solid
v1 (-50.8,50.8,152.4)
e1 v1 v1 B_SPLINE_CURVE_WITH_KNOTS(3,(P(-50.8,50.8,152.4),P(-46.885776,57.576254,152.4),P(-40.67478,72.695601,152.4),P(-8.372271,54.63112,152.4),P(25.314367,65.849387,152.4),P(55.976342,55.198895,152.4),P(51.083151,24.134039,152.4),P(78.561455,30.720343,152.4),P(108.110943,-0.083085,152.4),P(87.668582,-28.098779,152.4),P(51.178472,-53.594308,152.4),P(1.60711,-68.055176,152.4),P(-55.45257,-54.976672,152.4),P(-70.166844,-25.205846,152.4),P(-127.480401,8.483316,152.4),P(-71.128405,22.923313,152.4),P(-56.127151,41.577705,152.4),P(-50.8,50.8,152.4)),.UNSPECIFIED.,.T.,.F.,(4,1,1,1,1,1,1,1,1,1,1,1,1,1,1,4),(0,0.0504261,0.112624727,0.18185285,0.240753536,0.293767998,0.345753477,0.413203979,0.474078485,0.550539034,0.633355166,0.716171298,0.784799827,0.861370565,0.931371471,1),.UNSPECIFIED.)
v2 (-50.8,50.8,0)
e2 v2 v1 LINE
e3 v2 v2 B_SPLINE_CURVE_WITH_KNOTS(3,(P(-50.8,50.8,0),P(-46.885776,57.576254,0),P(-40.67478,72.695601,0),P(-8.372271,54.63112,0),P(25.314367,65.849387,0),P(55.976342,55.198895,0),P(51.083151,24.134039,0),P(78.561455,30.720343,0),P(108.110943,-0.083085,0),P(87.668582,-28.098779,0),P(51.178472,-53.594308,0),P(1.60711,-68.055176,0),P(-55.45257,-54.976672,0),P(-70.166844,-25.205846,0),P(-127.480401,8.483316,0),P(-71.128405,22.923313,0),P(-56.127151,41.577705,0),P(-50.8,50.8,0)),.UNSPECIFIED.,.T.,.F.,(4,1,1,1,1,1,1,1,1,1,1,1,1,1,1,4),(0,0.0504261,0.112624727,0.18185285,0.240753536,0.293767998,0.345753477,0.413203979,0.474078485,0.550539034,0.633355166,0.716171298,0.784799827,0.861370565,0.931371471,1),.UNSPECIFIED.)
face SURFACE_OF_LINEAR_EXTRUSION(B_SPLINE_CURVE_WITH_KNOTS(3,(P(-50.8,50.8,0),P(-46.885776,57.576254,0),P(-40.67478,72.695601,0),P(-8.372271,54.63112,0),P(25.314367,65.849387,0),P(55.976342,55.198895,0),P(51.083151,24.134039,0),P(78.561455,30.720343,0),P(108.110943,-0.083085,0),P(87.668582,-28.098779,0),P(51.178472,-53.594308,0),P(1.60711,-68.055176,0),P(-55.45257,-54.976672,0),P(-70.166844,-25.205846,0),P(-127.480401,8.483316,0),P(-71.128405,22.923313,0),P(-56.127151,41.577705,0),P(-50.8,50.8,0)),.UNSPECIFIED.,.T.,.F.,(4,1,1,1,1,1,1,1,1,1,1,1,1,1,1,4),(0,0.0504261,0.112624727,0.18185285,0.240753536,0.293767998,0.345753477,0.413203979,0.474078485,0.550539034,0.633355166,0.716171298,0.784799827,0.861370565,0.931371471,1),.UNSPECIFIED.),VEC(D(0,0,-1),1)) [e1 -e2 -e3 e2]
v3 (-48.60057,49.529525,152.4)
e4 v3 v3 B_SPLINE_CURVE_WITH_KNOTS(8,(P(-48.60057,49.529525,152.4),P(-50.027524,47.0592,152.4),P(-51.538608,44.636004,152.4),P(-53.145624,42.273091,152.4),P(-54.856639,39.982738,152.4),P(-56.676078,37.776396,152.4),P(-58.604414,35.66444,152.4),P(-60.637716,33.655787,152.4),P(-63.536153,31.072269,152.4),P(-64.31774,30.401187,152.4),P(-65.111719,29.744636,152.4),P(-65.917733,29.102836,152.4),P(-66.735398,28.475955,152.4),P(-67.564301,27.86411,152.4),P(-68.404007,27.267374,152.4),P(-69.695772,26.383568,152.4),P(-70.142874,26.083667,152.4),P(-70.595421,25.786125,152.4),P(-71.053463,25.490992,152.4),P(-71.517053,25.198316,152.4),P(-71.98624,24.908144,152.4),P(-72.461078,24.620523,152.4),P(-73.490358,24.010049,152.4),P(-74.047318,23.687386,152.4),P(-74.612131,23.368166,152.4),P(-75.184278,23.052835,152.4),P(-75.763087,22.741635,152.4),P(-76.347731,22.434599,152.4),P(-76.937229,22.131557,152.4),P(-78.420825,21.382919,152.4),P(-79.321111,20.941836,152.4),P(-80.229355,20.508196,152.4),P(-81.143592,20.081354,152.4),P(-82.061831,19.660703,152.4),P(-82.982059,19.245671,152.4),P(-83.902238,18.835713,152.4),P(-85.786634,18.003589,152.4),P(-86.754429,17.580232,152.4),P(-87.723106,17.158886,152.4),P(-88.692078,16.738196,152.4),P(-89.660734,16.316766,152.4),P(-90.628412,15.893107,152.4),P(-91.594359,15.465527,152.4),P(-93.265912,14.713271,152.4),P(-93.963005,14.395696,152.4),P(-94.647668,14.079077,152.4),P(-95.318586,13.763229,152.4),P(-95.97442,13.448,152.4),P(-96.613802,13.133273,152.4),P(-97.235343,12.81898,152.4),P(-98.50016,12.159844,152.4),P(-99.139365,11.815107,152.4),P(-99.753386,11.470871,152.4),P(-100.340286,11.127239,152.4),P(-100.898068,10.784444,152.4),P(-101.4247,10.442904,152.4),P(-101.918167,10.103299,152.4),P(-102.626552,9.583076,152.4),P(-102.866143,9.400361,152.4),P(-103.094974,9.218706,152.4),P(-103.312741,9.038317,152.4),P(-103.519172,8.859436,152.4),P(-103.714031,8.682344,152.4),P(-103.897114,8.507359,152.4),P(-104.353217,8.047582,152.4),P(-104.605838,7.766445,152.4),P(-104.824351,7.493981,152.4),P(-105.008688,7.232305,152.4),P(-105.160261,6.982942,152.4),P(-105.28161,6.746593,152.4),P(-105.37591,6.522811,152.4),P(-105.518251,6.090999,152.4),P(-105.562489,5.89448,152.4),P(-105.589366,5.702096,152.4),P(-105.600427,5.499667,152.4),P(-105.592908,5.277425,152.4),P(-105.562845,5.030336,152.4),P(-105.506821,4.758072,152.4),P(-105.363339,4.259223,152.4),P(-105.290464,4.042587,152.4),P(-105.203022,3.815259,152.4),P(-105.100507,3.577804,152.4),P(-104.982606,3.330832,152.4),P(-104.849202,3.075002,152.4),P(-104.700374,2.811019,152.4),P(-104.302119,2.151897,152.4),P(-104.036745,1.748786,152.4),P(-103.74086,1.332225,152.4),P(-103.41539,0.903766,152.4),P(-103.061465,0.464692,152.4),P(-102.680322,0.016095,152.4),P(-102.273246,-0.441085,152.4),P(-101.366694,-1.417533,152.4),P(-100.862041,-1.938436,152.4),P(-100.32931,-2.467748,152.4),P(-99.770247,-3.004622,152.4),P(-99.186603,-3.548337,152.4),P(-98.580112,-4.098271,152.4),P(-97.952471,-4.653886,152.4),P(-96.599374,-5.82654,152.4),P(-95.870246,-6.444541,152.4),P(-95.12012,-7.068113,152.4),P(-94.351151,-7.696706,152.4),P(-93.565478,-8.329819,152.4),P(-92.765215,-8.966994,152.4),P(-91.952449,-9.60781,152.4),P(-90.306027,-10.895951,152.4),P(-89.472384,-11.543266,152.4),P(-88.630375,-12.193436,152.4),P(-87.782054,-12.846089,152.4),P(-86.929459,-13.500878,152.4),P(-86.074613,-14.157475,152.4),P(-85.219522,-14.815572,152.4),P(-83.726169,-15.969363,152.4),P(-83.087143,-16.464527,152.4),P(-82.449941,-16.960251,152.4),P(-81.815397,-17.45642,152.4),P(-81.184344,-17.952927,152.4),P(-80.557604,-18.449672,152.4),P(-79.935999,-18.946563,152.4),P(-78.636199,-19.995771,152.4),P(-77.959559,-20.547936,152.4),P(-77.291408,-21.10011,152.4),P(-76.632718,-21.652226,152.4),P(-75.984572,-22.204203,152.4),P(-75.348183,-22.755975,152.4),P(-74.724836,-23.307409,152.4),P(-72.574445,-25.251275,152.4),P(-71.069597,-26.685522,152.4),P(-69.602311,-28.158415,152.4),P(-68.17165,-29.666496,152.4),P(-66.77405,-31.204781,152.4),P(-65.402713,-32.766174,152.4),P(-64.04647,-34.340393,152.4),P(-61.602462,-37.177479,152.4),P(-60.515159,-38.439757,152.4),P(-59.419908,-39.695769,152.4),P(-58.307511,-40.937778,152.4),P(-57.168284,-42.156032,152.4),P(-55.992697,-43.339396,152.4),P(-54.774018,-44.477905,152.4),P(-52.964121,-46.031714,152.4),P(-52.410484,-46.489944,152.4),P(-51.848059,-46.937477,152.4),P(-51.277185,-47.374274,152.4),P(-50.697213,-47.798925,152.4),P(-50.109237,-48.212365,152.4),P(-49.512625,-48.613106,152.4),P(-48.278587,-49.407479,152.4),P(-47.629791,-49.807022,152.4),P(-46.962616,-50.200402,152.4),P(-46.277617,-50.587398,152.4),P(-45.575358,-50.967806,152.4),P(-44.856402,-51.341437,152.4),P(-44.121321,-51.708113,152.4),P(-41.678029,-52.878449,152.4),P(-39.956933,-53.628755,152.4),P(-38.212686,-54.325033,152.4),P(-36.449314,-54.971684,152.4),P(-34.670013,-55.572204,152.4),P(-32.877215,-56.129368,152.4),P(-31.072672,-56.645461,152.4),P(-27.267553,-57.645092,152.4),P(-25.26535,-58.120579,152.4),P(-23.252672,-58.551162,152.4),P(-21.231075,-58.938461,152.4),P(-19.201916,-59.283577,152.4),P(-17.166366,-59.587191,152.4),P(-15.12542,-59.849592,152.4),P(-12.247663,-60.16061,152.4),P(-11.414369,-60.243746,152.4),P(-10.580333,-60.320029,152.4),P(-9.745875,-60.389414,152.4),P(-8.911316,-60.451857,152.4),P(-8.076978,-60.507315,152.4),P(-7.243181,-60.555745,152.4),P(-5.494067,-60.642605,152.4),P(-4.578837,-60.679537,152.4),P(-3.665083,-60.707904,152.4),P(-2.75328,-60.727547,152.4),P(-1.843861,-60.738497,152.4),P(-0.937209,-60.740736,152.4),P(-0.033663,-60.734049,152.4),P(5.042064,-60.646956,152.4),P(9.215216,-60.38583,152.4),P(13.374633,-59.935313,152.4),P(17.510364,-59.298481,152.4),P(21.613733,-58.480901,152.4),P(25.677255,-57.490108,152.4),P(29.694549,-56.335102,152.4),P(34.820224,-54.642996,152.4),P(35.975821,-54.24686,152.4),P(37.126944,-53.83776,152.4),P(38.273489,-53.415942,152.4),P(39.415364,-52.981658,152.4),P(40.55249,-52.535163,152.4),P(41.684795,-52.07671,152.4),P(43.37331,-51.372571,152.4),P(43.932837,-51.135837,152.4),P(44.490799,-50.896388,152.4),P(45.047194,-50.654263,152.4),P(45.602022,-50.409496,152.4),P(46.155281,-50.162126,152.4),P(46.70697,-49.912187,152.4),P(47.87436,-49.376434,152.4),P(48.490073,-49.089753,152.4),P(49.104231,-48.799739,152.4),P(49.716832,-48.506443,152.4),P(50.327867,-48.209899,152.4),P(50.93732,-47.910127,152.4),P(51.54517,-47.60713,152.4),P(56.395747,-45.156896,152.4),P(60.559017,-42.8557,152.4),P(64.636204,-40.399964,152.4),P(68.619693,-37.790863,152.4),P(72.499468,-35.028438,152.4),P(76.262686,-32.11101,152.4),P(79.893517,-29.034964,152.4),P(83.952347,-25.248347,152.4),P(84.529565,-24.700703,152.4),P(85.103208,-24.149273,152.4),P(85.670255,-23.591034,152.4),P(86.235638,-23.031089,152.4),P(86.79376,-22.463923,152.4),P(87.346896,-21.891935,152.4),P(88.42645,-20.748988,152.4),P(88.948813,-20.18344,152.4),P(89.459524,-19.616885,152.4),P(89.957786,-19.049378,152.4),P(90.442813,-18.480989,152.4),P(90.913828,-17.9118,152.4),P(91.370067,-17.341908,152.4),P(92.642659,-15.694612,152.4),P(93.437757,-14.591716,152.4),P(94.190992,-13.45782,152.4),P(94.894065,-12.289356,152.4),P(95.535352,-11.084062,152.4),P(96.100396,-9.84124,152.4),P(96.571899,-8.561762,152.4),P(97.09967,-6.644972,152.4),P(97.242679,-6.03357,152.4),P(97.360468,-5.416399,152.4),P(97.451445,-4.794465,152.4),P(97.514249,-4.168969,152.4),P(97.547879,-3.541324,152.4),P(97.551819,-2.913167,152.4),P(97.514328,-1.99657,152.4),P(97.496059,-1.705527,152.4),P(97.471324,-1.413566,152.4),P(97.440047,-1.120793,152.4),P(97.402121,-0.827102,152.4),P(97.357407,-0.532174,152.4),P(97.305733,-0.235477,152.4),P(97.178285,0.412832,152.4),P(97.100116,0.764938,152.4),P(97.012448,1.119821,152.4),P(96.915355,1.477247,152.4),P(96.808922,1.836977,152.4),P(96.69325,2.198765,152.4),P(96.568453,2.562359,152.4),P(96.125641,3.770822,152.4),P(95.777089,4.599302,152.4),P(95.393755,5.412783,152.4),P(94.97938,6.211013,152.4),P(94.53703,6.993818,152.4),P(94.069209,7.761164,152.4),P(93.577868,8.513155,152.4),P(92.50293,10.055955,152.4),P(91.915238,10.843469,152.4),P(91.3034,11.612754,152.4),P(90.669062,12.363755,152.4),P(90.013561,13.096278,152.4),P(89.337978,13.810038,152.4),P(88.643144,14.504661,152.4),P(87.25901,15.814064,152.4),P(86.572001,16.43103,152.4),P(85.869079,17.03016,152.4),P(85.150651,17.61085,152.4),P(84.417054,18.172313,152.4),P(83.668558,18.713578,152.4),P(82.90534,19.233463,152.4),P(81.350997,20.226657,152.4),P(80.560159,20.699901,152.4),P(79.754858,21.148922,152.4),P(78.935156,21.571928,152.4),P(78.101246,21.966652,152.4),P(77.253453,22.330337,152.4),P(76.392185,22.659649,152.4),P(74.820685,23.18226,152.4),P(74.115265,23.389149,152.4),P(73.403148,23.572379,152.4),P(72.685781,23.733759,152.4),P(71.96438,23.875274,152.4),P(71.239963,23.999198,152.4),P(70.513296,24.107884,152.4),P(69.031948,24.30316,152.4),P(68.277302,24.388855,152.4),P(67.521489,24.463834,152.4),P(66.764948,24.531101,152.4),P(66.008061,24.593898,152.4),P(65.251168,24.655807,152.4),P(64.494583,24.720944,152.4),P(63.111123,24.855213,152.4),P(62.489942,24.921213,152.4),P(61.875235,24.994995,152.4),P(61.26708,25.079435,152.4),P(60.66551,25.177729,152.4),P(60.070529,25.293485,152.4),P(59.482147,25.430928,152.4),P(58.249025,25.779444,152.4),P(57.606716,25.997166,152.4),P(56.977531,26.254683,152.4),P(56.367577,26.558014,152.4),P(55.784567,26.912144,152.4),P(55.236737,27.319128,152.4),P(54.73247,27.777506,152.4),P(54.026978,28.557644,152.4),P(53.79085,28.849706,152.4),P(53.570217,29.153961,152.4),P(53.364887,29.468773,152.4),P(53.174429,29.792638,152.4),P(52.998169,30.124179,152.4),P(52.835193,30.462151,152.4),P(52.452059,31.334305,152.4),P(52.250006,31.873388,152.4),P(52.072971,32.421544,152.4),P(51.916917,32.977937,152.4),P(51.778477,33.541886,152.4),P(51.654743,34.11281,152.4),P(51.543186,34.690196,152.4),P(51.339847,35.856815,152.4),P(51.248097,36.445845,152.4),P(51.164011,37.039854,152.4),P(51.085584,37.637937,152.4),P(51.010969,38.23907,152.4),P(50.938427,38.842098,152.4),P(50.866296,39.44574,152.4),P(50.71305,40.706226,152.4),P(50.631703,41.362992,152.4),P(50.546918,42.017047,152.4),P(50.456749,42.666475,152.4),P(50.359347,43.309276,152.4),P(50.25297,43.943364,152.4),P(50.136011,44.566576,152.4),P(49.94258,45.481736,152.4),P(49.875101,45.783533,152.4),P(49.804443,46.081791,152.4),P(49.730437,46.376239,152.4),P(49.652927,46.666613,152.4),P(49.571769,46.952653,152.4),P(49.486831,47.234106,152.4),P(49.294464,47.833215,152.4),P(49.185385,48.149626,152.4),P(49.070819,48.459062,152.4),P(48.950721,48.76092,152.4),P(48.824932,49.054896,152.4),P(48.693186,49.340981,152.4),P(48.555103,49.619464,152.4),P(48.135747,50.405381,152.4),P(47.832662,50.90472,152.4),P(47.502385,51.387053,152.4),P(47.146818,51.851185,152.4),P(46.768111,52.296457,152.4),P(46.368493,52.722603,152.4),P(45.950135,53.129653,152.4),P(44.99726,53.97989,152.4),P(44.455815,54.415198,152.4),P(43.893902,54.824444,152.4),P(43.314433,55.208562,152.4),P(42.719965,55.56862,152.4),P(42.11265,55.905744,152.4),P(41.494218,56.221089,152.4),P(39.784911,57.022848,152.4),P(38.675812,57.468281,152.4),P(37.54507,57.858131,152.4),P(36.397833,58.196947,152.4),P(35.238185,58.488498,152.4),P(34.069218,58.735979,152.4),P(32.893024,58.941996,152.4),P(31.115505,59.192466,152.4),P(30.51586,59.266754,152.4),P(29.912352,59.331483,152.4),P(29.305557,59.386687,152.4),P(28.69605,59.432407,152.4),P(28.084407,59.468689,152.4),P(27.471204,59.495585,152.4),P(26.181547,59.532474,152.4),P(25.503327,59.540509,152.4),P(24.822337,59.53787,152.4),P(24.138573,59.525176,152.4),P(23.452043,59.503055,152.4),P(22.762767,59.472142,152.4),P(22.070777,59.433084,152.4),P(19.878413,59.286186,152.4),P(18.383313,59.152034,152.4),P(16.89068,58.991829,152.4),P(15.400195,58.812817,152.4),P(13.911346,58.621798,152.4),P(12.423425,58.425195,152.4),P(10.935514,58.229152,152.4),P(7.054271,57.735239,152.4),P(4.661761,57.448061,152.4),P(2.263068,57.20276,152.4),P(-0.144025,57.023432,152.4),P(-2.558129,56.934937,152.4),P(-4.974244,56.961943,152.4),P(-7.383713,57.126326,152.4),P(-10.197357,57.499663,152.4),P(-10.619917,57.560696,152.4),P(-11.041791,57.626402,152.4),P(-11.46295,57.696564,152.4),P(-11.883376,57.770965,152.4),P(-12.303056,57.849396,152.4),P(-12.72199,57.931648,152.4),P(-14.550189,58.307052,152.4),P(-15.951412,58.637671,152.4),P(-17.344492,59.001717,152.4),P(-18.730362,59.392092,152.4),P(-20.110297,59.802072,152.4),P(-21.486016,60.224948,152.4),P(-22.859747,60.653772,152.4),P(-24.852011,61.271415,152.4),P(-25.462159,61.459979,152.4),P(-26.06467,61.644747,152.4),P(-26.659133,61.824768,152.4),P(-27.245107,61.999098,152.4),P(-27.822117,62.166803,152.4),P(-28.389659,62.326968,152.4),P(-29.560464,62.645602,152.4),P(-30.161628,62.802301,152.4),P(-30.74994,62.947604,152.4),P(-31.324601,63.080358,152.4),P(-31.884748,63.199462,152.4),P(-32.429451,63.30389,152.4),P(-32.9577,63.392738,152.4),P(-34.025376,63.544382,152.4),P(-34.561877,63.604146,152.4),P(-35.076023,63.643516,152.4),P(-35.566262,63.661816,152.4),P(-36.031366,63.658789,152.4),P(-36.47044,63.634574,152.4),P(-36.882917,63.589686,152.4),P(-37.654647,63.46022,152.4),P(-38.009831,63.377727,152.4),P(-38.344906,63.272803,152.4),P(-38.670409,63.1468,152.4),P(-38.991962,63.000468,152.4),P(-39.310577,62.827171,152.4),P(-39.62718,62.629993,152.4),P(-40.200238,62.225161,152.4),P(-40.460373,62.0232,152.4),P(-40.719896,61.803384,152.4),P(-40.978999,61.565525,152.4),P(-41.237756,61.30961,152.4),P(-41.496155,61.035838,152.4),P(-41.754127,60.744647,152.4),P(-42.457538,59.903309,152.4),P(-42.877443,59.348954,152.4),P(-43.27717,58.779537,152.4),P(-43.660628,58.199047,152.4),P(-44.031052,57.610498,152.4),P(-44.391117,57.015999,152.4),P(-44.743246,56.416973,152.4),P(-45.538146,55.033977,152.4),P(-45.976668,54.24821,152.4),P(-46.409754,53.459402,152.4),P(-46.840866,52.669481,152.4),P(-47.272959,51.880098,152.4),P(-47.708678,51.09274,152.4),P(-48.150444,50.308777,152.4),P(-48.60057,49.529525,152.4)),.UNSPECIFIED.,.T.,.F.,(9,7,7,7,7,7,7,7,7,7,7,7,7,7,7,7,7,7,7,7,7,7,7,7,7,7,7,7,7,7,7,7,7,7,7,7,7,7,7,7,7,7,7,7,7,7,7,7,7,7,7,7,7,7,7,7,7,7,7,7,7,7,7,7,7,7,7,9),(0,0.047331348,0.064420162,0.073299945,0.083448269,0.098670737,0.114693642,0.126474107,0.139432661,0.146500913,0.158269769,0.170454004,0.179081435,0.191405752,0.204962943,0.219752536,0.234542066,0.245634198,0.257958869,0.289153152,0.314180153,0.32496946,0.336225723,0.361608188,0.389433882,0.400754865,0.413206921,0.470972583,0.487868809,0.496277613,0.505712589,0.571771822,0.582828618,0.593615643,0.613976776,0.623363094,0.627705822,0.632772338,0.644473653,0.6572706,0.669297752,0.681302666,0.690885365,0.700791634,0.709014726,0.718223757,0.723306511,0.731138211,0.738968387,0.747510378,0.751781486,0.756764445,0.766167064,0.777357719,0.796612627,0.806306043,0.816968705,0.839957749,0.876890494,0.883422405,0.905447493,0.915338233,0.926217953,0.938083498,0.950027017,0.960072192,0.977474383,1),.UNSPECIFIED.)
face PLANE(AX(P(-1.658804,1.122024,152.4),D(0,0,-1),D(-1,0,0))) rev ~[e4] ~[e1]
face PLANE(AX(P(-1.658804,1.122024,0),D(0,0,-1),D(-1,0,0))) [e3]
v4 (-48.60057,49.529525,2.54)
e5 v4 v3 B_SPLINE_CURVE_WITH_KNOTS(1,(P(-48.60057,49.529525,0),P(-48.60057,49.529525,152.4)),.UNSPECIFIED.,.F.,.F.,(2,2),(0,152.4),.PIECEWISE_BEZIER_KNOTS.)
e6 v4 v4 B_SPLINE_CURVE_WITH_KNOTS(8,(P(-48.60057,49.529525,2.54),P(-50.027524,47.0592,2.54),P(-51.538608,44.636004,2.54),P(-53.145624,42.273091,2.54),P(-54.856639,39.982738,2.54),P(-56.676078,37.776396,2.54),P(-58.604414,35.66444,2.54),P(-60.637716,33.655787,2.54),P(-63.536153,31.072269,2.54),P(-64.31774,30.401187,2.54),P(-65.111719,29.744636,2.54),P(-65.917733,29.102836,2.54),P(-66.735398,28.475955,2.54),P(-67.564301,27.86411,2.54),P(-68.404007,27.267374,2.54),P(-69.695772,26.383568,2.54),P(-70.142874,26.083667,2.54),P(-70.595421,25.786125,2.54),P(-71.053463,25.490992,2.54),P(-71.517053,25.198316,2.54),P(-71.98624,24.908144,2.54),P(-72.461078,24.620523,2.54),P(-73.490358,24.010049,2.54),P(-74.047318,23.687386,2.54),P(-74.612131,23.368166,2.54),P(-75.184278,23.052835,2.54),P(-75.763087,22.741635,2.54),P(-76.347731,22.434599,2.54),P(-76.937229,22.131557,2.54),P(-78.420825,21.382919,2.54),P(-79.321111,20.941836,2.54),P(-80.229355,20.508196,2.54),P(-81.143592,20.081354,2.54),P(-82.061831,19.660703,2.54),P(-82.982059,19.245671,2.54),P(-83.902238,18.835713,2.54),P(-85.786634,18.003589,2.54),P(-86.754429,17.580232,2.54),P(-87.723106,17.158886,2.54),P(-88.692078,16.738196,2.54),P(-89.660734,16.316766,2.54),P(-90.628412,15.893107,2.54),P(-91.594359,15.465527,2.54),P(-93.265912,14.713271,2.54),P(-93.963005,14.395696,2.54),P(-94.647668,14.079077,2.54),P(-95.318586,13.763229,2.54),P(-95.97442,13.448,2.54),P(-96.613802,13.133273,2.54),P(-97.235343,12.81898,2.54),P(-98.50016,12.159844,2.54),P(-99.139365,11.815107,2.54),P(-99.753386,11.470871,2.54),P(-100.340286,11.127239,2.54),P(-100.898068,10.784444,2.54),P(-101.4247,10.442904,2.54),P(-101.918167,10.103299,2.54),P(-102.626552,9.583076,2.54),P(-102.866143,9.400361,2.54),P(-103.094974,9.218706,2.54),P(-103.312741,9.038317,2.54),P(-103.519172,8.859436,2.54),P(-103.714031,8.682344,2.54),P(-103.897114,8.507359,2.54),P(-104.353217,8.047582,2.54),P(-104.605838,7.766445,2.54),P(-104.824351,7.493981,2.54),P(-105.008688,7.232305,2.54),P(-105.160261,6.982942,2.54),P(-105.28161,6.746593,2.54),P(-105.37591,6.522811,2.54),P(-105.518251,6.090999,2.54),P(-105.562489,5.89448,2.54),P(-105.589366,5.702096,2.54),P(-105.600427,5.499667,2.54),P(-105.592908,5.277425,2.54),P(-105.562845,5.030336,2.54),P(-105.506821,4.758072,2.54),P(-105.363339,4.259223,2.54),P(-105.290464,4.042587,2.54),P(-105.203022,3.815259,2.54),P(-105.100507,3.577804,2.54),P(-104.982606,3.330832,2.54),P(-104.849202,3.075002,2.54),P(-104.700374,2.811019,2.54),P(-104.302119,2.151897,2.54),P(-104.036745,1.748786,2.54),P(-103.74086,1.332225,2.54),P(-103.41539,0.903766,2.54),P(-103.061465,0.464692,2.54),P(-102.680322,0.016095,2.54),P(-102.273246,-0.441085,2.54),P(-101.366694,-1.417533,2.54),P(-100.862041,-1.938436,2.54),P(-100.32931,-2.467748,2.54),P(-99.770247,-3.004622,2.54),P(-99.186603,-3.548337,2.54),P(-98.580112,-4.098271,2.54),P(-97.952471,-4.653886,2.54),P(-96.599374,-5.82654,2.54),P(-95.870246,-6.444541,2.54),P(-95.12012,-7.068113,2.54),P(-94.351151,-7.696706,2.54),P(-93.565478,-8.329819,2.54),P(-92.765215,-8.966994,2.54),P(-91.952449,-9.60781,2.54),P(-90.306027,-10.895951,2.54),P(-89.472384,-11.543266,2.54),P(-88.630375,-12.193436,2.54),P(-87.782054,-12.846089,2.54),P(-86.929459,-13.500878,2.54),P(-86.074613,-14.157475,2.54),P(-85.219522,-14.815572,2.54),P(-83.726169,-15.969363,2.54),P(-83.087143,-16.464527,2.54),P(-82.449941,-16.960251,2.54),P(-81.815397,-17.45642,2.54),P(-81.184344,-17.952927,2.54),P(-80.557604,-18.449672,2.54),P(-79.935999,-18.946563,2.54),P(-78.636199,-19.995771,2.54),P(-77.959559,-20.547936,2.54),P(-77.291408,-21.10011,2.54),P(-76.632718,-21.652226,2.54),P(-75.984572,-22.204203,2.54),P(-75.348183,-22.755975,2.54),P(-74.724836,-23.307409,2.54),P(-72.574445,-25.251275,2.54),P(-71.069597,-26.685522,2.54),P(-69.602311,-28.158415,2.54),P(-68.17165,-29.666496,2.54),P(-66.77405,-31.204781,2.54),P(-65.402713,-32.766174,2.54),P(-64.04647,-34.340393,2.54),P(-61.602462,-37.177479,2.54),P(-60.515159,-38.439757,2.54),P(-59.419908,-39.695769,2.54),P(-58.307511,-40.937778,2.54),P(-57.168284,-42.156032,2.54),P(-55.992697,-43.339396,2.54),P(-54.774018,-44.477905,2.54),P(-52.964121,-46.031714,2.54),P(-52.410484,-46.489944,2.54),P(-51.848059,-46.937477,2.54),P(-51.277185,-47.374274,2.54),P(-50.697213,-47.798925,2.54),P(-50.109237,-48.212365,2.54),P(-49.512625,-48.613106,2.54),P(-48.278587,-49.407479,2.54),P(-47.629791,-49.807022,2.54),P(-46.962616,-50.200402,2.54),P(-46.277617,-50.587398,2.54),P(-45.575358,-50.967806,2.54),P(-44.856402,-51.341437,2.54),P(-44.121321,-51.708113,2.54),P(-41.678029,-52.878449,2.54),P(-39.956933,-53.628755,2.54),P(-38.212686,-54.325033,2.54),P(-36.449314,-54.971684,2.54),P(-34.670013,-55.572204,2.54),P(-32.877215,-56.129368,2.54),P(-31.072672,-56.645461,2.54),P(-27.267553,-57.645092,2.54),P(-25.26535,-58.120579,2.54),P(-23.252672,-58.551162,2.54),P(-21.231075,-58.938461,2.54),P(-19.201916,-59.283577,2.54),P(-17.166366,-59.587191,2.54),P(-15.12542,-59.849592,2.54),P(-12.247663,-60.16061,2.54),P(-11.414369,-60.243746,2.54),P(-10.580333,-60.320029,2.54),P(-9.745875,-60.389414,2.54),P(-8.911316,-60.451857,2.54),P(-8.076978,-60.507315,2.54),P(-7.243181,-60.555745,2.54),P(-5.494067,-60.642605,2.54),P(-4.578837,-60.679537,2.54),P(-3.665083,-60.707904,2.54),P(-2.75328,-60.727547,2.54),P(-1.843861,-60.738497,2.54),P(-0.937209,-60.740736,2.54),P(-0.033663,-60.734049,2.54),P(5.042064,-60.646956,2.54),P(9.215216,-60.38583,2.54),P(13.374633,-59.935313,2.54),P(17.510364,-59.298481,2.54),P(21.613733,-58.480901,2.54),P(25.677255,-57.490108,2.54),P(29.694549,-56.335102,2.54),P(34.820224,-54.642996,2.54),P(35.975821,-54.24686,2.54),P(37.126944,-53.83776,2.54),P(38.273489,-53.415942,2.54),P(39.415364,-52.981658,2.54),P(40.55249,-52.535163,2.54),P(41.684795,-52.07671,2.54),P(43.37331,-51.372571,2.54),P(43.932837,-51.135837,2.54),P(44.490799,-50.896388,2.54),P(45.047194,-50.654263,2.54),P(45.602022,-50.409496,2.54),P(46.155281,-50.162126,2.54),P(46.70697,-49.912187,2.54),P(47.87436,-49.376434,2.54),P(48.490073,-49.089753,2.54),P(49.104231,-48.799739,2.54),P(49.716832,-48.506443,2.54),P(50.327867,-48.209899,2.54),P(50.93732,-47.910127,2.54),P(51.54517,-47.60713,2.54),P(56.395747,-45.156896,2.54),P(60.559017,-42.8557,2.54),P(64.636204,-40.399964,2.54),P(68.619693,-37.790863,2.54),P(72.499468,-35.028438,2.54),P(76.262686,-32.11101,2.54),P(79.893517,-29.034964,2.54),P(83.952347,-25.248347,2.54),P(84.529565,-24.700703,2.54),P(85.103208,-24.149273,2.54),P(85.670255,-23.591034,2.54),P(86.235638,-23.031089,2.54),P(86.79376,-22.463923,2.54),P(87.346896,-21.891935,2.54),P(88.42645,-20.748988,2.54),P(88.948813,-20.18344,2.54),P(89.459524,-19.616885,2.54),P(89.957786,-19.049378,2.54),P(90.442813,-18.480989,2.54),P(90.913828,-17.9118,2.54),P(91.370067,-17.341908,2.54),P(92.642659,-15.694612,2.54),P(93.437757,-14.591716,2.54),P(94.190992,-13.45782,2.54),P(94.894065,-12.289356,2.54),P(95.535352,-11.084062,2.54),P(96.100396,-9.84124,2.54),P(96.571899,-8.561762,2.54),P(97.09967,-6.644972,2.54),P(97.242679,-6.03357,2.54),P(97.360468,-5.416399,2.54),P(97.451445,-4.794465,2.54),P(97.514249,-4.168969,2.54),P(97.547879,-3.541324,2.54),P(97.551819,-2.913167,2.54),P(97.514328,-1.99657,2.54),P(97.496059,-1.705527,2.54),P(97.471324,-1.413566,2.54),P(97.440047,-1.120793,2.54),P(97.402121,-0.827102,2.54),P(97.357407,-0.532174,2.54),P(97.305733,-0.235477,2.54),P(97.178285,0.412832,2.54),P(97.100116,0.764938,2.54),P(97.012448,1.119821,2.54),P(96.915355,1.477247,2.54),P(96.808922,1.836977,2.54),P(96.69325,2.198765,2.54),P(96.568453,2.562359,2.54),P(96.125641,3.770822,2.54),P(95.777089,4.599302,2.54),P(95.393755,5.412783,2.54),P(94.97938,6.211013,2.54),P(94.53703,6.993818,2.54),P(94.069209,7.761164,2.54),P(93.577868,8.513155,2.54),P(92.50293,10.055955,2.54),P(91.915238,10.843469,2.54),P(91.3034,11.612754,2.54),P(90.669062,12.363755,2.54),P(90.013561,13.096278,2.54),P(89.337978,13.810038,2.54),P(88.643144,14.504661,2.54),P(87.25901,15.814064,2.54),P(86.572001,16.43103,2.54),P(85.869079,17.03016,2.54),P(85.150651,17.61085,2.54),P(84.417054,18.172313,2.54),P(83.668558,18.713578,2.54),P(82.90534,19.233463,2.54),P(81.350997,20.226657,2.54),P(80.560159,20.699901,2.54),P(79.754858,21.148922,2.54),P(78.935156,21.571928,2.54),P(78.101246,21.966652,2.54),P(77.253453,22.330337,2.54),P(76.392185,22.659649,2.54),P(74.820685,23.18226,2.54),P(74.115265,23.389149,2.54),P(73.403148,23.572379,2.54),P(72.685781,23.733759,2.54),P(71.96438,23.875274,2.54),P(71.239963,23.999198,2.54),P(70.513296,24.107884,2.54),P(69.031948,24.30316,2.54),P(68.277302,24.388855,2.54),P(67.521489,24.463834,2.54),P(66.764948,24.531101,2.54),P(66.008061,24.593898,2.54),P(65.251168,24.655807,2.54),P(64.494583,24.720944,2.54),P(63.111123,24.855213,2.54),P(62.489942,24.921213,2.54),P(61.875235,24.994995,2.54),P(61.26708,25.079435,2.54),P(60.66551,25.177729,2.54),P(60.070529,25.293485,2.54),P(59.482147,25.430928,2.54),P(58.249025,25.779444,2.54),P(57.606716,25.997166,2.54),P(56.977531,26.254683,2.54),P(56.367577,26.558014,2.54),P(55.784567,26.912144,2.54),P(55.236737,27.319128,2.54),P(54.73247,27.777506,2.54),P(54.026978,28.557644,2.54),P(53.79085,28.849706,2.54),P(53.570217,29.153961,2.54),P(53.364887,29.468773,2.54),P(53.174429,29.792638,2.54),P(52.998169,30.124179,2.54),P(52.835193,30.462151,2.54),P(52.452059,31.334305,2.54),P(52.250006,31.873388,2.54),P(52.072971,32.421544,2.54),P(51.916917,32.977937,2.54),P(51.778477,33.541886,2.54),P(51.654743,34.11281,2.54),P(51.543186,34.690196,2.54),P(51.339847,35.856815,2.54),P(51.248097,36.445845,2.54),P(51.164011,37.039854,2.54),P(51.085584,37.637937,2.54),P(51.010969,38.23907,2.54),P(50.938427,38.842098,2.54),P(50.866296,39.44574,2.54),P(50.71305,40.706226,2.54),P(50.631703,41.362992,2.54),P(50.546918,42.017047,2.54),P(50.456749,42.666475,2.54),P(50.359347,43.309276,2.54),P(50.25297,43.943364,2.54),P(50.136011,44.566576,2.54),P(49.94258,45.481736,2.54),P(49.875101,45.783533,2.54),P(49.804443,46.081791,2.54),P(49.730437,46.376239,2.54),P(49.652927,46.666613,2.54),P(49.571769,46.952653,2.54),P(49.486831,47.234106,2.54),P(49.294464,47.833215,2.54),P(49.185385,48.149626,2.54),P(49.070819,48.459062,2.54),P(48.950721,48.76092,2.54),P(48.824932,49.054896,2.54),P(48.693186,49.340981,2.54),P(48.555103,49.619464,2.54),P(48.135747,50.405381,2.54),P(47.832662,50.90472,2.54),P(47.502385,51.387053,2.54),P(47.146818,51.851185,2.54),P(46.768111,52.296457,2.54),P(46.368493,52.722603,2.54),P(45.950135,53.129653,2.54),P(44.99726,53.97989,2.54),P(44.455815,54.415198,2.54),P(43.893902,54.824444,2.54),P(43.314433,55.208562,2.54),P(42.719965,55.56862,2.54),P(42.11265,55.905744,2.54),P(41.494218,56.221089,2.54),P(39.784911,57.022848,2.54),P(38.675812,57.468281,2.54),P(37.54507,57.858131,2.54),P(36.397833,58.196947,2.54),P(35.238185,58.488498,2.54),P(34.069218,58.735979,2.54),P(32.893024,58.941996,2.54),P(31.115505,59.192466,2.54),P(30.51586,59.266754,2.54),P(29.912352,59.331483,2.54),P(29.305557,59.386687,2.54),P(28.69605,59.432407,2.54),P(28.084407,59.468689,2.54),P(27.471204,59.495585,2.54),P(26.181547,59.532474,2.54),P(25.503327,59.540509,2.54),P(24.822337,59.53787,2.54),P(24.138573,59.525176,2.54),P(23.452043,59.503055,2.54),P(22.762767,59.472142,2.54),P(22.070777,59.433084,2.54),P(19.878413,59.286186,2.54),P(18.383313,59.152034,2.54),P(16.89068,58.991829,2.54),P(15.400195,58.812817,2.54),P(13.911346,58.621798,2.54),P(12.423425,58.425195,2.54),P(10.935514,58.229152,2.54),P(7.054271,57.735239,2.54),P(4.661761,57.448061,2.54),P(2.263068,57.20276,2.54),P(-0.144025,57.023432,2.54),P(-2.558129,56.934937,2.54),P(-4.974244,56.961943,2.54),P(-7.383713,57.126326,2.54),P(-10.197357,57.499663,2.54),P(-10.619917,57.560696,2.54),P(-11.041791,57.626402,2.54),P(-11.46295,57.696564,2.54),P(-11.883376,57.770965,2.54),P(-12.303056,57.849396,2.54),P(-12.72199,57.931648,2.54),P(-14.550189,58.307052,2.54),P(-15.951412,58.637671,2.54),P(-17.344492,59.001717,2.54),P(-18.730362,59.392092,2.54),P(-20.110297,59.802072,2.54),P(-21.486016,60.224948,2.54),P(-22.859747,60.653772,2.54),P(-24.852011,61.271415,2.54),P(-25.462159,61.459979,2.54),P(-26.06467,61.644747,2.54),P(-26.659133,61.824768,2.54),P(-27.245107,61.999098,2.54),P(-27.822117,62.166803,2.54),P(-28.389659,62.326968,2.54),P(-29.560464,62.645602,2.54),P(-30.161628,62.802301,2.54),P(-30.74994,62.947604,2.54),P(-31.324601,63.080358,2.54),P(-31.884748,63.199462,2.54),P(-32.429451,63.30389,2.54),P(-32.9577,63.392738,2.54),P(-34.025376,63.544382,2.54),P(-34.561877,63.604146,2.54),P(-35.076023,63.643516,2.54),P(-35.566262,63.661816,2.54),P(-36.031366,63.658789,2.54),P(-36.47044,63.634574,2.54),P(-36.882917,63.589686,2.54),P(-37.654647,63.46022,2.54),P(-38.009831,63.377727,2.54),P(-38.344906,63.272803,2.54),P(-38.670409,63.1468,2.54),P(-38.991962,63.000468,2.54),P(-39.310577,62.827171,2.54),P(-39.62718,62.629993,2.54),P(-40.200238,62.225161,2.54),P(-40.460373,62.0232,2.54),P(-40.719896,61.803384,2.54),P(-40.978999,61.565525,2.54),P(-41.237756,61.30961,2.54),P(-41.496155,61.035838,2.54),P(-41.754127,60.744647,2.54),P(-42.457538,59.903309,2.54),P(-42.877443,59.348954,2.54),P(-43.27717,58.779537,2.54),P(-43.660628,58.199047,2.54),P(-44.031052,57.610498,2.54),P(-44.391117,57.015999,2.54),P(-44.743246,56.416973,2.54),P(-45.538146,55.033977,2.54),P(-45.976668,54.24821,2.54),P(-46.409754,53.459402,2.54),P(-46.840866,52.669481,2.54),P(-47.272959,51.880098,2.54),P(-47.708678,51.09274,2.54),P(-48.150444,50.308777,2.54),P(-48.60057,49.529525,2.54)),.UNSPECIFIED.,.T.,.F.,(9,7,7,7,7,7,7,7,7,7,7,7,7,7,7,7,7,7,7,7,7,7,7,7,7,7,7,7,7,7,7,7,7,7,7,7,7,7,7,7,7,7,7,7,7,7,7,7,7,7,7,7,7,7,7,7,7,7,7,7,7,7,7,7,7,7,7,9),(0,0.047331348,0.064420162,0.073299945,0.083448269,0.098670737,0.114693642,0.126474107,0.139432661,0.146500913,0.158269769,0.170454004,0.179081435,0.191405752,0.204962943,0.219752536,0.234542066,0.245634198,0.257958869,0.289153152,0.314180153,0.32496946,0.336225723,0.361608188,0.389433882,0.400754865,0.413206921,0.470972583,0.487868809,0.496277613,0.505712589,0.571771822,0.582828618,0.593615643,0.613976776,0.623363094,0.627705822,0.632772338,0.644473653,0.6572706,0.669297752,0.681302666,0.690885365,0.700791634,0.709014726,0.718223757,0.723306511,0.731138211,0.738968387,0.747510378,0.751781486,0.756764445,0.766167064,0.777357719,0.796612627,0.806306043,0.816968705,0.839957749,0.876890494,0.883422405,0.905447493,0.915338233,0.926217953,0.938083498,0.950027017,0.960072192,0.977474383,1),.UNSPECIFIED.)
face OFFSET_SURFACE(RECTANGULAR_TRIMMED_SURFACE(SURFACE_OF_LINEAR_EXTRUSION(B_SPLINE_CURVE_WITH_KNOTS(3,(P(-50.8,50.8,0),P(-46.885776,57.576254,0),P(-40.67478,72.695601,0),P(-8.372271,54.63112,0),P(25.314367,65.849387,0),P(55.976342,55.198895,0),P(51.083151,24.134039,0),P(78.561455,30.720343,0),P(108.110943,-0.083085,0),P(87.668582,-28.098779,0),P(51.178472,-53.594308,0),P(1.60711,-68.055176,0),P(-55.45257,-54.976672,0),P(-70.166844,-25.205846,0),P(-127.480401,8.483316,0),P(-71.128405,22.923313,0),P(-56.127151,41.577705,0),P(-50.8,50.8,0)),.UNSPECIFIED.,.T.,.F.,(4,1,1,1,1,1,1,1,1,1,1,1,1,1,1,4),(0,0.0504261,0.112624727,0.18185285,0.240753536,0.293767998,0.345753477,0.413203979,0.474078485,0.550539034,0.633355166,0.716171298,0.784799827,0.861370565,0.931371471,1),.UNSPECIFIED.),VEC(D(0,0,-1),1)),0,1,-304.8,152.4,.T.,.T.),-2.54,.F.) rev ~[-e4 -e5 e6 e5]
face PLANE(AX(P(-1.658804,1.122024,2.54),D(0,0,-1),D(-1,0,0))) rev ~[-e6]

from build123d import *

# Parameters (mm, degrees)
F1_DEPTH = 152.4
F2_T     = -2.54


with BuildPart() as f1:
    # F0 (on Top) → F1 (new body)
    with BuildSketch(Plane.XY):
        with BuildLine():
            add(Edge.make_bspline(
                [(-50.8, 50.8), (-46.8857761694, 57.5762540904), (-40.6747797537, 72.6956011541), (-8.3722710593, 54.6311200837), (25.3143665582, 65.8493873304), (55.9763416075, 55.1988950064), (51.0831508648, 24.134039145), (78.5614550414, 30.7203429166), (108.1109428352, -0.0830848261), (87.6685823476, -28.0987791672), (51.1784720355, -53.5943082523), (1.6071097718, -68.0551760404), (-55.4525701105, -54.9766720481), (-70.166843997, -25.2058457431), (-127.4804010227, 8.4833156396), (-71.1284051412, 22.9233131911), (-56.1271505113, 41.5777053626), (-50.8, 50.8)],
                knots=[0, 0, 0, 0, 0.0504260998, 0.1126247268, 0.18185285, 0.2407535358, 0.293767998, 0.3457534774, 0.4132039791, 0.4740784847, 0.550539034, 0.6333551659, 0.7161712979, 0.7847998269, 0.8613705654, 0.9313714711, 1, 1, 1, 1], degree=3))
        make_face()
    extrude(amount=F1_DEPTH)

    # F2
    f2_openings = [f1.faces().sort_by_distance(p)[0] for p in [
        (-0.326089, -0.352117, 152.4),
    ]]
    offset(amount=F2_T, openings=f2_openings)


solid = f1.part
